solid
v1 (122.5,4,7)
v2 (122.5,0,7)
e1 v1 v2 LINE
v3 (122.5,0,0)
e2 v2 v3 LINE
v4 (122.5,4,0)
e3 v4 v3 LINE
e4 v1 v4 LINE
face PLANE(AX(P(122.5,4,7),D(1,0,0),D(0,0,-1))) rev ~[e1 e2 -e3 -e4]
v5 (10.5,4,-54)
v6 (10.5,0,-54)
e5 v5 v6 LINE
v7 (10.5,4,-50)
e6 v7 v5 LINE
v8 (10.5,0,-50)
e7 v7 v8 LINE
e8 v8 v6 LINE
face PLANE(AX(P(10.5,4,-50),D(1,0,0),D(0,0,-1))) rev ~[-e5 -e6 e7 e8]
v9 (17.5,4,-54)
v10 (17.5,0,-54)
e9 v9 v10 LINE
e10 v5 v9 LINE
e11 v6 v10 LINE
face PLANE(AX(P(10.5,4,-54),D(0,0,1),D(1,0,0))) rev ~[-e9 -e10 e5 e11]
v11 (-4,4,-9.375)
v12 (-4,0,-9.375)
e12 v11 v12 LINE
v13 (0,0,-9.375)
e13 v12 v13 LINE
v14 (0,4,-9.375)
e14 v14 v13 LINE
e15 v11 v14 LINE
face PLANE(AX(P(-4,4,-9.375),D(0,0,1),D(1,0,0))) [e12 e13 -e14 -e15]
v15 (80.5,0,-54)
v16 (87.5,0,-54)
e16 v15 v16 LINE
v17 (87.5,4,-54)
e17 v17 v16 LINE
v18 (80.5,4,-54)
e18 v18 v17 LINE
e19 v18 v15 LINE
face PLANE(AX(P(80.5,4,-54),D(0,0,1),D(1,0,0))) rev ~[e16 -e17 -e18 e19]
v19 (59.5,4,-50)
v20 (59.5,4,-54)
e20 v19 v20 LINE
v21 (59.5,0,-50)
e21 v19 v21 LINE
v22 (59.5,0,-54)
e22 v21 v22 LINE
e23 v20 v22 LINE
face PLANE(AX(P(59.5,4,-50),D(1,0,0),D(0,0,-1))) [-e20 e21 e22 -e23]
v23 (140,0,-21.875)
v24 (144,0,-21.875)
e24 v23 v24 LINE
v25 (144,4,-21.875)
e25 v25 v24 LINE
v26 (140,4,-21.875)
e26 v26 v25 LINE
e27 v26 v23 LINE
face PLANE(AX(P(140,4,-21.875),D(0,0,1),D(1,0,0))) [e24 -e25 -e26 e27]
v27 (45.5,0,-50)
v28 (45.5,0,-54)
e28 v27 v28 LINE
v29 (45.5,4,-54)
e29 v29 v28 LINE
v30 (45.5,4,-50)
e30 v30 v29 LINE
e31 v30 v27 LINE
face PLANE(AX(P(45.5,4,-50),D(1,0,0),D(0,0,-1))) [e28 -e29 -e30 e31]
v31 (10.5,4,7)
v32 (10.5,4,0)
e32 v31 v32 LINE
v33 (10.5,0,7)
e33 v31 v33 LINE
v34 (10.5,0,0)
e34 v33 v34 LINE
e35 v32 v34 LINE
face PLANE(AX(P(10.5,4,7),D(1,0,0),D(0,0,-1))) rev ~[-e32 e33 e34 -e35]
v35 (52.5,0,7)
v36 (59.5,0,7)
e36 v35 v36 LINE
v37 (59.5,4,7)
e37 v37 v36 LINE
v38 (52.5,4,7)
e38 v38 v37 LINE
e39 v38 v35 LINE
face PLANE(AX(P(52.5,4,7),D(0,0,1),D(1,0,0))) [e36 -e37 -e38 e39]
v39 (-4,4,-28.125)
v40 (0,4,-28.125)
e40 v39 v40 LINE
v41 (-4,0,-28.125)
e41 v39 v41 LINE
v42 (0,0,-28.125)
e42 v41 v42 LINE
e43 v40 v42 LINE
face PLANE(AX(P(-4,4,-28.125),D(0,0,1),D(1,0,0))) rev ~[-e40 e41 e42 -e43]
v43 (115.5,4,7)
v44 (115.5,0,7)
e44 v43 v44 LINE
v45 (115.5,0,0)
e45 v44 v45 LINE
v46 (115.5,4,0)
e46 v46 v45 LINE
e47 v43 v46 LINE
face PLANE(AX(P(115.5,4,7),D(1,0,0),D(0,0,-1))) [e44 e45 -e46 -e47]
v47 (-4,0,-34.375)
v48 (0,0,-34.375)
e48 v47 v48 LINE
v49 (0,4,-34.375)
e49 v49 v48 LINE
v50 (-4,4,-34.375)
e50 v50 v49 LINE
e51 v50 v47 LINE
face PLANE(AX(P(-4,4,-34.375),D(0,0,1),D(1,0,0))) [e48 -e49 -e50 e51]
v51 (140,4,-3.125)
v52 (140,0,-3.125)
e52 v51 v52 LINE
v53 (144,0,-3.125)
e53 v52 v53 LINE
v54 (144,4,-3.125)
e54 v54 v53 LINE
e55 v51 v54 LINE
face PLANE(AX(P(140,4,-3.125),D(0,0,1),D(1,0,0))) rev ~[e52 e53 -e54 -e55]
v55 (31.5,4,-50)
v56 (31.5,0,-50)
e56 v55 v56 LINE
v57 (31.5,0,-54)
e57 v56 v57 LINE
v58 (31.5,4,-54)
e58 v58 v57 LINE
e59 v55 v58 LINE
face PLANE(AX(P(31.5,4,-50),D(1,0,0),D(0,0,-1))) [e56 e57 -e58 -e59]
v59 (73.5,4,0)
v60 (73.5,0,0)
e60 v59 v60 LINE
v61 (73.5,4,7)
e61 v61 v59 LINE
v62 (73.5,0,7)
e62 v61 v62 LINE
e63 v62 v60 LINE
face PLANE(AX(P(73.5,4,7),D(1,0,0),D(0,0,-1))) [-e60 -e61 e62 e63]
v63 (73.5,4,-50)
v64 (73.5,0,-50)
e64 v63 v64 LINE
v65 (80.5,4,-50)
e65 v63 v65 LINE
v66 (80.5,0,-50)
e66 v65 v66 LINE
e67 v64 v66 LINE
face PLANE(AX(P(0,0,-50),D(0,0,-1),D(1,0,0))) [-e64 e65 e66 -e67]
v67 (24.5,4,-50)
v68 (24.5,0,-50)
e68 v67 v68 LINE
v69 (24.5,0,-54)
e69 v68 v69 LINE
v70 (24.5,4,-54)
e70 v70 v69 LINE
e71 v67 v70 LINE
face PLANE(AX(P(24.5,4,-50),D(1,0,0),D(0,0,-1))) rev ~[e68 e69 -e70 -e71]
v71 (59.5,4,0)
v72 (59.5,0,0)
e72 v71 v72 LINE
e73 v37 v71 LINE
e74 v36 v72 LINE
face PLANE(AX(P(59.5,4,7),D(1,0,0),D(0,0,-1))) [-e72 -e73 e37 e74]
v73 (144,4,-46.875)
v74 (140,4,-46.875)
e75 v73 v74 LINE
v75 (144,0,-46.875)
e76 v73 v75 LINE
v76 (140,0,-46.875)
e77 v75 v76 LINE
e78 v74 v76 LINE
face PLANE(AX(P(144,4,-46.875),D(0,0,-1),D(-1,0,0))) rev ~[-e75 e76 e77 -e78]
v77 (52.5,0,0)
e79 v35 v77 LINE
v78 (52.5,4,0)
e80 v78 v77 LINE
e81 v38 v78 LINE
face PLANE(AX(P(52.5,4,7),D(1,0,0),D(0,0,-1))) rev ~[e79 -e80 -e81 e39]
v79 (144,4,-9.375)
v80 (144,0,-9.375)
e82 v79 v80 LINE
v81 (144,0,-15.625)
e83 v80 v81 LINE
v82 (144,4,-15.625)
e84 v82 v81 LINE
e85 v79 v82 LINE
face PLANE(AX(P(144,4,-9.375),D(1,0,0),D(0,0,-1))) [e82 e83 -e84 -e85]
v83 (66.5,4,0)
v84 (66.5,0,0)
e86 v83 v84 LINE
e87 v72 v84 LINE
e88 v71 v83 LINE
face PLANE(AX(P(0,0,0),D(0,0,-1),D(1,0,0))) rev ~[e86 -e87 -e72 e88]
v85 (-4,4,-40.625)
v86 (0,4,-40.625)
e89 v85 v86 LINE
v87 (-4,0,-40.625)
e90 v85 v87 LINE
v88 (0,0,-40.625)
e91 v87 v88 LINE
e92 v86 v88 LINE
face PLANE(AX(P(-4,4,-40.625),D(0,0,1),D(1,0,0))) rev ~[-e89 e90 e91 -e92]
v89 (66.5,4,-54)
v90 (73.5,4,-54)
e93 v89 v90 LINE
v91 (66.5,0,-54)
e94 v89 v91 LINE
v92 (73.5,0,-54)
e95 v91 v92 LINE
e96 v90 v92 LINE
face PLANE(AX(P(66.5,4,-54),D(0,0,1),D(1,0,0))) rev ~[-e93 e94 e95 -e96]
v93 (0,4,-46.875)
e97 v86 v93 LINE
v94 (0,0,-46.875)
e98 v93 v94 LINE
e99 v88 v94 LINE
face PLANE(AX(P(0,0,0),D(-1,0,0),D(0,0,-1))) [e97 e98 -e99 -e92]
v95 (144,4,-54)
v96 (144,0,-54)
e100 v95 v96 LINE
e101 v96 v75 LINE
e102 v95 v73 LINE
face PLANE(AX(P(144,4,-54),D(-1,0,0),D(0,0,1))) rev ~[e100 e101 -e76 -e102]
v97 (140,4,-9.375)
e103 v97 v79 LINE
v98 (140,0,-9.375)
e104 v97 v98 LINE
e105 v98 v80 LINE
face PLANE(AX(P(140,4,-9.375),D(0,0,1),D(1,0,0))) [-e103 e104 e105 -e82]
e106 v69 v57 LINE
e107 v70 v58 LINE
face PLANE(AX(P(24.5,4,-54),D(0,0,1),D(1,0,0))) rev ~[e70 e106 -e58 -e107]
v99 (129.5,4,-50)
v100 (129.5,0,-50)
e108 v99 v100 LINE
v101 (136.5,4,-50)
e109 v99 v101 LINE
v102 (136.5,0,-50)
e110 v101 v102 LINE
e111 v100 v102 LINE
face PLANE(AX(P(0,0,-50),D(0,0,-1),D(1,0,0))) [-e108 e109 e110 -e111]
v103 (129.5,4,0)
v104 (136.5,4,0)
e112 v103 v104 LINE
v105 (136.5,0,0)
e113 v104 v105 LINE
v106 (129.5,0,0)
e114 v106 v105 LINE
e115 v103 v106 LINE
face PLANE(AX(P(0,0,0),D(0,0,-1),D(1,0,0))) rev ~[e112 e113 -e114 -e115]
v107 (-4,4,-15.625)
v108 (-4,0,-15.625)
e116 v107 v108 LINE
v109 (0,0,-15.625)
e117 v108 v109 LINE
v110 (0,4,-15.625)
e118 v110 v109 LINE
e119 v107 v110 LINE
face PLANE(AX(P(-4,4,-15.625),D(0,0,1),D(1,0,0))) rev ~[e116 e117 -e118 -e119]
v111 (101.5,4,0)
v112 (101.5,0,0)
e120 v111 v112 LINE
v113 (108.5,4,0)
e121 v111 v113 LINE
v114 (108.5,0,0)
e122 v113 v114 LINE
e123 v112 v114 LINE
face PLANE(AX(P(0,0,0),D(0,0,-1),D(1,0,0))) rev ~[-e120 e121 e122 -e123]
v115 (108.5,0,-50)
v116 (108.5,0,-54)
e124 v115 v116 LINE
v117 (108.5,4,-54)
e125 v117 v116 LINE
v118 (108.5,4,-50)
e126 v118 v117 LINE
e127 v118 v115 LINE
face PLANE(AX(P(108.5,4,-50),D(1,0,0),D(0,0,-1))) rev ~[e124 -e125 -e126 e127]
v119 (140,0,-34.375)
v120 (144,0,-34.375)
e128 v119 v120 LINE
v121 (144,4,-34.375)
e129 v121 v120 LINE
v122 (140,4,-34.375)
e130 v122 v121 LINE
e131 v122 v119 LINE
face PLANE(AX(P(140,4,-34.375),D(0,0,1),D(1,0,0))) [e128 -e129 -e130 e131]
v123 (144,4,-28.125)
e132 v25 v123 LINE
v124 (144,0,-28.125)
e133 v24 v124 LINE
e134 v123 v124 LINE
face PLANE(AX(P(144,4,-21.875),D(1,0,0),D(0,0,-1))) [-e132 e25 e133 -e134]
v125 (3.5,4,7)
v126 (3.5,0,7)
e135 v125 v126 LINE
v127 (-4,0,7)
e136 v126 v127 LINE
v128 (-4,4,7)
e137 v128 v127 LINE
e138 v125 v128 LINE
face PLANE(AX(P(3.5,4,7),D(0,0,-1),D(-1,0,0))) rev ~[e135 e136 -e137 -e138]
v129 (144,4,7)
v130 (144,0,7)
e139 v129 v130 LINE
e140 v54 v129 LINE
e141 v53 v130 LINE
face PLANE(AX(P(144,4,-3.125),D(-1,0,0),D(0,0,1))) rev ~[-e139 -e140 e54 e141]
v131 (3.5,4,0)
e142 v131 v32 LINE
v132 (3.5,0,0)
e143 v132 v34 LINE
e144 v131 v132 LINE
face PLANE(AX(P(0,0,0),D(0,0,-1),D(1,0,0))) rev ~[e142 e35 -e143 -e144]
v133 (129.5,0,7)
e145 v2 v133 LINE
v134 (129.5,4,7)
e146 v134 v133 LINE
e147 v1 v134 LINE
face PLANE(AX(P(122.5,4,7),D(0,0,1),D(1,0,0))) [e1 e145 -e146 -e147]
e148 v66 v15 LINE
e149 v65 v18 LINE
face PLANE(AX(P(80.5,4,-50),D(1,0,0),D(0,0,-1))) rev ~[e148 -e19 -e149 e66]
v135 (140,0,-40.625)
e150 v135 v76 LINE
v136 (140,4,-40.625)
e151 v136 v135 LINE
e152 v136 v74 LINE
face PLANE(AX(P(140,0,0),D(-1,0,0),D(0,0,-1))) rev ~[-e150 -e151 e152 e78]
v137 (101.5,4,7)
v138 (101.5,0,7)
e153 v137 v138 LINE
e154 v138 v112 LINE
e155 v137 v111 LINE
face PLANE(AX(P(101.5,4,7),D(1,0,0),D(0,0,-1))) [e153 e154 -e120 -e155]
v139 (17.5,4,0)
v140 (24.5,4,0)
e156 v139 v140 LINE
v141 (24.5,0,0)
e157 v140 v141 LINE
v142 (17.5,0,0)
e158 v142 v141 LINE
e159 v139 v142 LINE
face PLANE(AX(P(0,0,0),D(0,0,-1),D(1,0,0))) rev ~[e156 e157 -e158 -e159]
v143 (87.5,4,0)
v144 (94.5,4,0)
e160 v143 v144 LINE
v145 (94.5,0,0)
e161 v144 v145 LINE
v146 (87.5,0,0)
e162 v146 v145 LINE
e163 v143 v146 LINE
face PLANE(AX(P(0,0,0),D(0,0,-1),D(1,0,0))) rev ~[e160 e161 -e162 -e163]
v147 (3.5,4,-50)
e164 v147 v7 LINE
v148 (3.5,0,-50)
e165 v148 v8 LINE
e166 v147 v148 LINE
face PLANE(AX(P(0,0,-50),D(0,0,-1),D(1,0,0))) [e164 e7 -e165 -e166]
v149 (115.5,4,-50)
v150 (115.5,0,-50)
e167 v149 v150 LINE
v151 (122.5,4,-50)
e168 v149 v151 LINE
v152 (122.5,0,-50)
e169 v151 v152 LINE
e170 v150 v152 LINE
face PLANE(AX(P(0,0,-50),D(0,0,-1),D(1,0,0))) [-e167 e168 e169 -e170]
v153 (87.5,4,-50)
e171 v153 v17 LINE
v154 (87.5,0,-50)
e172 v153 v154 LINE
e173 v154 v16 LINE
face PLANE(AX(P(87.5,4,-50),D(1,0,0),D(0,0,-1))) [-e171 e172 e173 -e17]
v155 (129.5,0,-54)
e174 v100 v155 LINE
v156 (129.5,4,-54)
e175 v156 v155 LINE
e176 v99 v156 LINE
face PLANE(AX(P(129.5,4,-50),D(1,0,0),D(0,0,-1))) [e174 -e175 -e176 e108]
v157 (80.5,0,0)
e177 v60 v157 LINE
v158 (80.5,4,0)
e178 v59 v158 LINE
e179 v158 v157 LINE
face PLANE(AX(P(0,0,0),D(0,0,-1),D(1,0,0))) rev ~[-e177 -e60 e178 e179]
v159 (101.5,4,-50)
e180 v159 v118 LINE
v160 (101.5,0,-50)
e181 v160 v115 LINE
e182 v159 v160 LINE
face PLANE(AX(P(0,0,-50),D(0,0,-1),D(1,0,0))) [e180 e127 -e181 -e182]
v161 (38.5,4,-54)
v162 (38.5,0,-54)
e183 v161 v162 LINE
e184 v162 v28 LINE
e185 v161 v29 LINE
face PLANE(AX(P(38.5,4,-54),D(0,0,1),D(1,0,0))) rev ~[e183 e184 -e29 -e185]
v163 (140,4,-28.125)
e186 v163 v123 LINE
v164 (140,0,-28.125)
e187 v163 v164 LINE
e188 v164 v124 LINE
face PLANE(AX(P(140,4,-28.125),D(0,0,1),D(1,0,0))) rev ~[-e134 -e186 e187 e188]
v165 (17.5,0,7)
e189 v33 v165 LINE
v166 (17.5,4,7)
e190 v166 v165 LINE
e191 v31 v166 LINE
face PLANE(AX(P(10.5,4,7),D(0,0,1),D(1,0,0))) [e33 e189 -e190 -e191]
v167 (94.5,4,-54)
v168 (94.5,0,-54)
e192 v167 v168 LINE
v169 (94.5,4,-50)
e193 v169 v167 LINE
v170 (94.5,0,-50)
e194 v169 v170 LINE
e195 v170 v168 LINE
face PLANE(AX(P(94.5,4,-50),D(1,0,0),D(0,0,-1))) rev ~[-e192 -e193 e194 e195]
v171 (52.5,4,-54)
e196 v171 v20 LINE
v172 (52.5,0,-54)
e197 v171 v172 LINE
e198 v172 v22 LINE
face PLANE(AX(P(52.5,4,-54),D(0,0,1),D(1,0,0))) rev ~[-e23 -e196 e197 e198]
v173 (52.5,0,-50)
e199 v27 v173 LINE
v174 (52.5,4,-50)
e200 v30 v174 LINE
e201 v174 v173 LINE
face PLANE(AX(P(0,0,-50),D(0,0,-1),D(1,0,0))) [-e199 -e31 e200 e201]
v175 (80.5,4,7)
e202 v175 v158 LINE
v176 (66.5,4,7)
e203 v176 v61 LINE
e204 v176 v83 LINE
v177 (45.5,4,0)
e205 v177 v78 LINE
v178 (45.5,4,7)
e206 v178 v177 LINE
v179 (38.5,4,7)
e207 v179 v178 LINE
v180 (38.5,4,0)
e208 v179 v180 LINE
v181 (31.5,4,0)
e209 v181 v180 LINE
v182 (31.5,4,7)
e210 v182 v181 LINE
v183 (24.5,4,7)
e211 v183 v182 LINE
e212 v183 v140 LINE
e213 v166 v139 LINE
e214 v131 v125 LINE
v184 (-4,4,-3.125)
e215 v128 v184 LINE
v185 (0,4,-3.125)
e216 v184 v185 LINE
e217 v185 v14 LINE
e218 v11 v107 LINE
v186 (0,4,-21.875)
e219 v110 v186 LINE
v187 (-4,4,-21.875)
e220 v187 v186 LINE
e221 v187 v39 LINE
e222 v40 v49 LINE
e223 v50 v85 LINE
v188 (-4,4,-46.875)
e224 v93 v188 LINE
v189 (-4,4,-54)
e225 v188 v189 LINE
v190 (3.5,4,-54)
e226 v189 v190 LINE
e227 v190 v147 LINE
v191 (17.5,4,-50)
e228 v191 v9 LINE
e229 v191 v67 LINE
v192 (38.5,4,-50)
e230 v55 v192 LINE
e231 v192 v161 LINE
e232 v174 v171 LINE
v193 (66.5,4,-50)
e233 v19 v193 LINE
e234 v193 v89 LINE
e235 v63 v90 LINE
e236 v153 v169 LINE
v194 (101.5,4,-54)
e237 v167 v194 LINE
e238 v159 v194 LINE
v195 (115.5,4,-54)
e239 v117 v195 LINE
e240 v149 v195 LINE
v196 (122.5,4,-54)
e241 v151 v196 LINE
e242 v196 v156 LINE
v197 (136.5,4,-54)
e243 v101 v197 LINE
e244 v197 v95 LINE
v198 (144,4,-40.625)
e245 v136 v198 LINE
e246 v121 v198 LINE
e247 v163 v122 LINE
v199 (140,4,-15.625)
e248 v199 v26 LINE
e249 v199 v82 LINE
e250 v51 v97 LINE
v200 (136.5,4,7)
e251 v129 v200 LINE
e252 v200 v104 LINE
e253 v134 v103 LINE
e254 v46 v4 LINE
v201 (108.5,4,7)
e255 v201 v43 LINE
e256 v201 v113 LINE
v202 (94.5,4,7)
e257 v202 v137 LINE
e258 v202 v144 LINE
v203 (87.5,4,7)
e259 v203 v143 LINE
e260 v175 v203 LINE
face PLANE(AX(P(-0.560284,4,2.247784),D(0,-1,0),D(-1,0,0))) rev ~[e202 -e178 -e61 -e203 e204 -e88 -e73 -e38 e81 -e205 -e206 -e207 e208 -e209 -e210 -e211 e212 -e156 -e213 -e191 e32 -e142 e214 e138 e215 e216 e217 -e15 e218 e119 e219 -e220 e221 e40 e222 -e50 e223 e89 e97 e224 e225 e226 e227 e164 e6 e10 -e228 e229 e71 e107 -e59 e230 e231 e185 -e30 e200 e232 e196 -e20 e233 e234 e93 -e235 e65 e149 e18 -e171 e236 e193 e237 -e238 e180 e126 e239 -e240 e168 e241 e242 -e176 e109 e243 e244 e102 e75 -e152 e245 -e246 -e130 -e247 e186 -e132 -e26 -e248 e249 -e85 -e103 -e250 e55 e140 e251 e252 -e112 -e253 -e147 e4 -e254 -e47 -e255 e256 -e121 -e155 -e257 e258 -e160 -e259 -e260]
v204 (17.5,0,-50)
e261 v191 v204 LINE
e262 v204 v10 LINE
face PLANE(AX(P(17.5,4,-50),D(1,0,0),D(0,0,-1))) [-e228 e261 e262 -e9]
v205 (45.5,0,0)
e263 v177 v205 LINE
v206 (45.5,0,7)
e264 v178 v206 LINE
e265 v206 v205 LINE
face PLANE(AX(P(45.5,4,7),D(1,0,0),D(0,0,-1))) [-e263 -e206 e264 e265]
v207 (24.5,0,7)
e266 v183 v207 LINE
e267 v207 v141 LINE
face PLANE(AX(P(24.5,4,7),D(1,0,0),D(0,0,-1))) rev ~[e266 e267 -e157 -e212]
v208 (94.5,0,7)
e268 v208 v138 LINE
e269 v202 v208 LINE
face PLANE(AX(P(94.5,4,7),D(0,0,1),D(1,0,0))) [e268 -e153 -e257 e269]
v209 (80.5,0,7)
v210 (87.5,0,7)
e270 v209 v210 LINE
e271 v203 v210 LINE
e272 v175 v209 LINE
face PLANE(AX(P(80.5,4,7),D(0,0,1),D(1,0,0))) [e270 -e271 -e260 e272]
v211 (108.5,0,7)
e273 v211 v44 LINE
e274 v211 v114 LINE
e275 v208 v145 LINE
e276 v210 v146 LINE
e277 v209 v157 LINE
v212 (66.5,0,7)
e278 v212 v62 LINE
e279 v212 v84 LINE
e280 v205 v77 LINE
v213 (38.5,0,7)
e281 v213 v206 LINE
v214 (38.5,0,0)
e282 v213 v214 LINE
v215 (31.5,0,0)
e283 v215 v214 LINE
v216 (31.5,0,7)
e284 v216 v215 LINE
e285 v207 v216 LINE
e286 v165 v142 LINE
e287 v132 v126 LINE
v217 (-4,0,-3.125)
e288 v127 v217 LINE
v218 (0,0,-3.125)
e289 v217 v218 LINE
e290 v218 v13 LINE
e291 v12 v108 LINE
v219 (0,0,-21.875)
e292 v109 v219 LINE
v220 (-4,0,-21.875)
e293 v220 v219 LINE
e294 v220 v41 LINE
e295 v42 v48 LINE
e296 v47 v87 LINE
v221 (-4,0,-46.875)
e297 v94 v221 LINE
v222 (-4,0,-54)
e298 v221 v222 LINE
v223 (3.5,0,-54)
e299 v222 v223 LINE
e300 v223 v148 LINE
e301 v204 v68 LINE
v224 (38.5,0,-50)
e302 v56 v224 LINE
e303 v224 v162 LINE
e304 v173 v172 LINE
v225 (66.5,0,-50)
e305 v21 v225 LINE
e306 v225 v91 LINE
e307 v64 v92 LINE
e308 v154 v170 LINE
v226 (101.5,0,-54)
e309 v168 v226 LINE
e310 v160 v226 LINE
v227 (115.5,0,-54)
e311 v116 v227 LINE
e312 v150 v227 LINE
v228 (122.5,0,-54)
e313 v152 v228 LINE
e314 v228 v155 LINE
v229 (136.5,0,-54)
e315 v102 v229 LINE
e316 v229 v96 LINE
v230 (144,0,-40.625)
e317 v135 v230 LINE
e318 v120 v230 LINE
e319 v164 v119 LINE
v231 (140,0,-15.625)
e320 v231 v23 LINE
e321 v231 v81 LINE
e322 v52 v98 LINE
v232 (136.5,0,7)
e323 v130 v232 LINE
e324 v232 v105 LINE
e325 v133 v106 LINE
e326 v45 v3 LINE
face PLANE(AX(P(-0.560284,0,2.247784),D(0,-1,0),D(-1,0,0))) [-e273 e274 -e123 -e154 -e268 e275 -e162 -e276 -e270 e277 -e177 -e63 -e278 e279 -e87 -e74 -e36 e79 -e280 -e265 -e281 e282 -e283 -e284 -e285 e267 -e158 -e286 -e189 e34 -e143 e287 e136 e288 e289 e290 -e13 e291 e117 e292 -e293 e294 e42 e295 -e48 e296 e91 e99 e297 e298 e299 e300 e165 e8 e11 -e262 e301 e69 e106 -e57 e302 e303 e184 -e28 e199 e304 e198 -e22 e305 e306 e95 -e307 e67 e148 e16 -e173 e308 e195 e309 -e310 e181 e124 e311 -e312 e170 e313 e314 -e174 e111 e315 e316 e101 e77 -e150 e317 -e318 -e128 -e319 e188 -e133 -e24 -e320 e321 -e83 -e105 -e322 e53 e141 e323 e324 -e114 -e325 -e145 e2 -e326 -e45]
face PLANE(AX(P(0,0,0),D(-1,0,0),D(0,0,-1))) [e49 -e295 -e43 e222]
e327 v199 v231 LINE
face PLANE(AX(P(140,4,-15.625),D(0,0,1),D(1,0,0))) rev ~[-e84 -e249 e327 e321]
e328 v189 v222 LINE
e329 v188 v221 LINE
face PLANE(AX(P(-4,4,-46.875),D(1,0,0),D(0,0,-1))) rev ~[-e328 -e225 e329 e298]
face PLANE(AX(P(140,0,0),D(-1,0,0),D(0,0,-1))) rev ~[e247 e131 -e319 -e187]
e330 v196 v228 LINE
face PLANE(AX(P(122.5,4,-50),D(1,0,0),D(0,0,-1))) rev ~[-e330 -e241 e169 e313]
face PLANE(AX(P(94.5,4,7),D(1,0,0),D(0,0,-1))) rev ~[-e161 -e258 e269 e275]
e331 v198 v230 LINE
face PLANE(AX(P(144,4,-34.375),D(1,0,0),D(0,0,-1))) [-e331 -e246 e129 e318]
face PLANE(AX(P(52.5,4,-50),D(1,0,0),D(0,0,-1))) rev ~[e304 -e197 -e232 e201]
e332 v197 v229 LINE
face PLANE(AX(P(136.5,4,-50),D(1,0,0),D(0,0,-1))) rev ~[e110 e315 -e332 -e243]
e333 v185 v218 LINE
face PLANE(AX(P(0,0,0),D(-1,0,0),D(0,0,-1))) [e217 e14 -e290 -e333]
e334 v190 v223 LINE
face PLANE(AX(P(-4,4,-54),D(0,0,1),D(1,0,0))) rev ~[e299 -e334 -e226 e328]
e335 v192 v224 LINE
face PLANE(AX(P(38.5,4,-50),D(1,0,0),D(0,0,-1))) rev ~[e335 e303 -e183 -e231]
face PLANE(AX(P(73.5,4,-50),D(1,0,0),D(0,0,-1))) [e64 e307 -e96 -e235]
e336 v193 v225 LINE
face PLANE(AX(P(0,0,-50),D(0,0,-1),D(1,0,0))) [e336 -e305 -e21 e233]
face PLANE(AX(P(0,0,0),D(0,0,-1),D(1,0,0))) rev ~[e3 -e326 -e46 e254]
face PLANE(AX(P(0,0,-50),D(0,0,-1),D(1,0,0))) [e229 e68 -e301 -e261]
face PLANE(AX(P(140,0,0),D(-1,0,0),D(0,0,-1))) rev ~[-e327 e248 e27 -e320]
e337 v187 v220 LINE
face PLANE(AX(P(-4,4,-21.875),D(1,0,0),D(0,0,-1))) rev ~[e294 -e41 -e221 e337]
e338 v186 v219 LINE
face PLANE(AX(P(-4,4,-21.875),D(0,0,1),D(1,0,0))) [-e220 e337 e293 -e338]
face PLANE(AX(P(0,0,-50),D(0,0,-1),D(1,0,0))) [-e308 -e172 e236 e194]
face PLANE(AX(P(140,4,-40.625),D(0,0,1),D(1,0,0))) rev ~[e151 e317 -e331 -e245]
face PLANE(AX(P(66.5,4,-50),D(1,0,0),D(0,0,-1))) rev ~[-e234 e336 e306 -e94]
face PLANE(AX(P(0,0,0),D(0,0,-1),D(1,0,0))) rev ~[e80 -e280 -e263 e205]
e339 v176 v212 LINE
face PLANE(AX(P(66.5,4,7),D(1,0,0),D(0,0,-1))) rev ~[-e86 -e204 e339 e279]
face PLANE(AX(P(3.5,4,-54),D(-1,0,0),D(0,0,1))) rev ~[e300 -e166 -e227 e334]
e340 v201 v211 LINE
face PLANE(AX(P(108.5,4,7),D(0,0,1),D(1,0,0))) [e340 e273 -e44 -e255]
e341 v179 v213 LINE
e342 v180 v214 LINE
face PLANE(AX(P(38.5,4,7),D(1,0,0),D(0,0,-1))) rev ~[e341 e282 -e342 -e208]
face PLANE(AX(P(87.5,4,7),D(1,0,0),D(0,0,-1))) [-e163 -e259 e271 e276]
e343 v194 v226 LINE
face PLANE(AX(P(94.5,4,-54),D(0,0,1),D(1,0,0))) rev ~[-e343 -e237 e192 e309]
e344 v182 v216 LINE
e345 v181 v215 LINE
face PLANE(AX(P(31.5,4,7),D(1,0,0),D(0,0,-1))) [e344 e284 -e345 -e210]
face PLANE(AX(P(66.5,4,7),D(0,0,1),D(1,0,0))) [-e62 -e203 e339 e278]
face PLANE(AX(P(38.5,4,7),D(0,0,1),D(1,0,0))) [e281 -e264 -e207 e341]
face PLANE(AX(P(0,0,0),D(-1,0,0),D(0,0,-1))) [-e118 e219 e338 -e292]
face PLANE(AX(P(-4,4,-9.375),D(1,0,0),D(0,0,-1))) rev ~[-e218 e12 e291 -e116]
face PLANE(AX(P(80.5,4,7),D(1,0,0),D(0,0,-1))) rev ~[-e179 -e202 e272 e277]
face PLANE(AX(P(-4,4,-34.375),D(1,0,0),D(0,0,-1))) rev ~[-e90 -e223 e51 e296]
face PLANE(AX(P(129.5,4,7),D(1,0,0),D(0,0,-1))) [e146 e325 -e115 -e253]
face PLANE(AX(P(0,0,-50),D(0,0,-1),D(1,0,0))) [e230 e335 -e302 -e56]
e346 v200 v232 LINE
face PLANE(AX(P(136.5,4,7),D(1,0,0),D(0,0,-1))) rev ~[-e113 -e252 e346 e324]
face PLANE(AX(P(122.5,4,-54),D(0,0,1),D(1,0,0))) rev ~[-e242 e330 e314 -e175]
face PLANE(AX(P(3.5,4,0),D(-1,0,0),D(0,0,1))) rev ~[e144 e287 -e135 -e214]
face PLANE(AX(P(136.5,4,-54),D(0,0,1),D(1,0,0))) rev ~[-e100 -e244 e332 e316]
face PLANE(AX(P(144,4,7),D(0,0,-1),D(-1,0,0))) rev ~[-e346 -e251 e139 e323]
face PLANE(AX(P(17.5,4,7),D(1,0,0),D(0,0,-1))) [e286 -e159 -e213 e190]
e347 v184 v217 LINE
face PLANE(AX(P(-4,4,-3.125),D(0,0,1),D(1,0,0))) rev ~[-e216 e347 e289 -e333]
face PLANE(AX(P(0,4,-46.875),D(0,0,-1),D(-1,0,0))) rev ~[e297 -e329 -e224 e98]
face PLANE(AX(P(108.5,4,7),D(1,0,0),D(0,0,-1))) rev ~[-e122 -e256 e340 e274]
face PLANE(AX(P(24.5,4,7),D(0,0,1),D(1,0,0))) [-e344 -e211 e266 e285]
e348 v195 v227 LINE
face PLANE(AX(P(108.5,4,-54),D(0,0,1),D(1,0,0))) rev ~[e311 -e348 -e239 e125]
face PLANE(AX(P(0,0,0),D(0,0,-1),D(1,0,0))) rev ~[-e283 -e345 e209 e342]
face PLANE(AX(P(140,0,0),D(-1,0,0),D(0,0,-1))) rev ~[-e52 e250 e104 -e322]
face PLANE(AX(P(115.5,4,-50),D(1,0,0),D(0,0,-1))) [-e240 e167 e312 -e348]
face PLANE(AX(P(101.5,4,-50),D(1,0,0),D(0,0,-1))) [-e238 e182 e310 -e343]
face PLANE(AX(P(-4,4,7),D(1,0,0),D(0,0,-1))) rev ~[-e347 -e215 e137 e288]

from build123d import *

# Parameters (mm, degrees)
SCHIZZO1_W                   = 140
SCHIZZO1_H                   = 50
ESTRUSIONE_ESTRUSIONE1_DEPTH = 4
ESTRUSIONE_ESTRUSIONE2_DEPTH = 4
SCHIZZO3_W                   = 4
SCHIZZO3_H                   = 6.25
ESTRUSIONE_ESTRUSIONE3_DEPTH = 4
RIPETIZIONE_A_L1_COUNT       = 3
RIPETIZIONE_A_L1_PITCH       = 12.5
SCHIZZO4_W                   = 7
SCHIZZO4_H                   = 4
SCHIZZO4_H_2                 = 7
ESTRUSIONE_ESTRUSIONE4_DEPTH = 4
RIPETIZIONE_A_L2_COUNT       = 9
RIPETIZIONE_A_L2_PITCH       = 14


with BuildPart() as part:
    # Schizzo1 → Estrusione-Estrusione1 (new body)
    with BuildSketch(Plane(origin=(0, 0, 0), x_dir=(1, 0, 0), z_dir=(0, 1, 0))):
        with Locations((70, 25)):
            Rectangle(SCHIZZO1_W, SCHIZZO1_H)
    extrude(amount=ESTRUSIONE_ESTRUSIONE1_DEPTH)

    # Schizzo2 → Estrusione-Estrusione2 (add)
    with BuildSketch(Plane(origin=(0, 4, 0), x_dir=(1, 0, 0), z_dir=(0, 1, 0))):
        Polygon((0, 3.125), (0, 0), (3.5, 0), (3.5, -7), (-4, -7), (-4, 3.125), align=None)
        Polygon((0, 46.875), (-4, 46.875), (-4, 54), (3.5, 54), (3.5, 50), (0, 50), align=None)
        Polygon((136.5, 50), (136.5, 54), (144, 54), (144, 46.875), (140, 46.875), (140, 50), align=None)
        Polygon((140, 3.125), (144, 3.125), (144, -7), (136.5, -7), (136.5, 0), (140, 0), align=None)
    extrude(amount=-ESTRUSIONE_ESTRUSIONE2_DEPTH)

    # Schizzo3 → Estrusione-Estrusione3 (add)
    with BuildSketch(Plane(origin=(0, 4, 0), x_dir=(1, 0, 0), z_dir=(0, 1, 0))):
        with Locations((-2, 37.5)):
            Rectangle(SCHIZZO3_W, SCHIZZO3_H)
        with Locations((142, 37.5)):
            Rectangle(SCHIZZO3_W, SCHIZZO3_H)
    estrusione_estrusione3 = extrude(amount=-ESTRUSIONE_ESTRUSIONE3_DEPTH)

    # Ripetizione a L1: Estrusione-Estrusione3 ×3
    with Locations(*[(0, 0, i * RIPETIZIONE_A_L1_PITCH) for i in range(1, RIPETIZIONE_A_L1_COUNT)]):
        add(estrusione_estrusione3)

    # Schizzo4 → Estrusione-Estrusione4 (add)
    with BuildSketch(Plane(origin=(0, 4, 0), x_dir=(1, 0, 0), z_dir=(0, 1, 0))):
        with Locations((14, 52)):
            Rectangle(SCHIZZO4_W, SCHIZZO4_H)
        with Locations((14, -3.5)):
            Rectangle(SCHIZZO4_W, SCHIZZO4_H_2)
    estrusione_estrusione4 = extrude(amount=-ESTRUSIONE_ESTRUSIONE4_DEPTH)

    # Ripetizione a L2: Estrusione-Estrusione4 ×9
    with Locations(*[(i * RIPETIZIONE_A_L2_PITCH, 0, 0) for i in range(1, RIPETIZIONE_A_L2_COUNT)]):
        add(estrusione_estrusione4)


solid = part.part
